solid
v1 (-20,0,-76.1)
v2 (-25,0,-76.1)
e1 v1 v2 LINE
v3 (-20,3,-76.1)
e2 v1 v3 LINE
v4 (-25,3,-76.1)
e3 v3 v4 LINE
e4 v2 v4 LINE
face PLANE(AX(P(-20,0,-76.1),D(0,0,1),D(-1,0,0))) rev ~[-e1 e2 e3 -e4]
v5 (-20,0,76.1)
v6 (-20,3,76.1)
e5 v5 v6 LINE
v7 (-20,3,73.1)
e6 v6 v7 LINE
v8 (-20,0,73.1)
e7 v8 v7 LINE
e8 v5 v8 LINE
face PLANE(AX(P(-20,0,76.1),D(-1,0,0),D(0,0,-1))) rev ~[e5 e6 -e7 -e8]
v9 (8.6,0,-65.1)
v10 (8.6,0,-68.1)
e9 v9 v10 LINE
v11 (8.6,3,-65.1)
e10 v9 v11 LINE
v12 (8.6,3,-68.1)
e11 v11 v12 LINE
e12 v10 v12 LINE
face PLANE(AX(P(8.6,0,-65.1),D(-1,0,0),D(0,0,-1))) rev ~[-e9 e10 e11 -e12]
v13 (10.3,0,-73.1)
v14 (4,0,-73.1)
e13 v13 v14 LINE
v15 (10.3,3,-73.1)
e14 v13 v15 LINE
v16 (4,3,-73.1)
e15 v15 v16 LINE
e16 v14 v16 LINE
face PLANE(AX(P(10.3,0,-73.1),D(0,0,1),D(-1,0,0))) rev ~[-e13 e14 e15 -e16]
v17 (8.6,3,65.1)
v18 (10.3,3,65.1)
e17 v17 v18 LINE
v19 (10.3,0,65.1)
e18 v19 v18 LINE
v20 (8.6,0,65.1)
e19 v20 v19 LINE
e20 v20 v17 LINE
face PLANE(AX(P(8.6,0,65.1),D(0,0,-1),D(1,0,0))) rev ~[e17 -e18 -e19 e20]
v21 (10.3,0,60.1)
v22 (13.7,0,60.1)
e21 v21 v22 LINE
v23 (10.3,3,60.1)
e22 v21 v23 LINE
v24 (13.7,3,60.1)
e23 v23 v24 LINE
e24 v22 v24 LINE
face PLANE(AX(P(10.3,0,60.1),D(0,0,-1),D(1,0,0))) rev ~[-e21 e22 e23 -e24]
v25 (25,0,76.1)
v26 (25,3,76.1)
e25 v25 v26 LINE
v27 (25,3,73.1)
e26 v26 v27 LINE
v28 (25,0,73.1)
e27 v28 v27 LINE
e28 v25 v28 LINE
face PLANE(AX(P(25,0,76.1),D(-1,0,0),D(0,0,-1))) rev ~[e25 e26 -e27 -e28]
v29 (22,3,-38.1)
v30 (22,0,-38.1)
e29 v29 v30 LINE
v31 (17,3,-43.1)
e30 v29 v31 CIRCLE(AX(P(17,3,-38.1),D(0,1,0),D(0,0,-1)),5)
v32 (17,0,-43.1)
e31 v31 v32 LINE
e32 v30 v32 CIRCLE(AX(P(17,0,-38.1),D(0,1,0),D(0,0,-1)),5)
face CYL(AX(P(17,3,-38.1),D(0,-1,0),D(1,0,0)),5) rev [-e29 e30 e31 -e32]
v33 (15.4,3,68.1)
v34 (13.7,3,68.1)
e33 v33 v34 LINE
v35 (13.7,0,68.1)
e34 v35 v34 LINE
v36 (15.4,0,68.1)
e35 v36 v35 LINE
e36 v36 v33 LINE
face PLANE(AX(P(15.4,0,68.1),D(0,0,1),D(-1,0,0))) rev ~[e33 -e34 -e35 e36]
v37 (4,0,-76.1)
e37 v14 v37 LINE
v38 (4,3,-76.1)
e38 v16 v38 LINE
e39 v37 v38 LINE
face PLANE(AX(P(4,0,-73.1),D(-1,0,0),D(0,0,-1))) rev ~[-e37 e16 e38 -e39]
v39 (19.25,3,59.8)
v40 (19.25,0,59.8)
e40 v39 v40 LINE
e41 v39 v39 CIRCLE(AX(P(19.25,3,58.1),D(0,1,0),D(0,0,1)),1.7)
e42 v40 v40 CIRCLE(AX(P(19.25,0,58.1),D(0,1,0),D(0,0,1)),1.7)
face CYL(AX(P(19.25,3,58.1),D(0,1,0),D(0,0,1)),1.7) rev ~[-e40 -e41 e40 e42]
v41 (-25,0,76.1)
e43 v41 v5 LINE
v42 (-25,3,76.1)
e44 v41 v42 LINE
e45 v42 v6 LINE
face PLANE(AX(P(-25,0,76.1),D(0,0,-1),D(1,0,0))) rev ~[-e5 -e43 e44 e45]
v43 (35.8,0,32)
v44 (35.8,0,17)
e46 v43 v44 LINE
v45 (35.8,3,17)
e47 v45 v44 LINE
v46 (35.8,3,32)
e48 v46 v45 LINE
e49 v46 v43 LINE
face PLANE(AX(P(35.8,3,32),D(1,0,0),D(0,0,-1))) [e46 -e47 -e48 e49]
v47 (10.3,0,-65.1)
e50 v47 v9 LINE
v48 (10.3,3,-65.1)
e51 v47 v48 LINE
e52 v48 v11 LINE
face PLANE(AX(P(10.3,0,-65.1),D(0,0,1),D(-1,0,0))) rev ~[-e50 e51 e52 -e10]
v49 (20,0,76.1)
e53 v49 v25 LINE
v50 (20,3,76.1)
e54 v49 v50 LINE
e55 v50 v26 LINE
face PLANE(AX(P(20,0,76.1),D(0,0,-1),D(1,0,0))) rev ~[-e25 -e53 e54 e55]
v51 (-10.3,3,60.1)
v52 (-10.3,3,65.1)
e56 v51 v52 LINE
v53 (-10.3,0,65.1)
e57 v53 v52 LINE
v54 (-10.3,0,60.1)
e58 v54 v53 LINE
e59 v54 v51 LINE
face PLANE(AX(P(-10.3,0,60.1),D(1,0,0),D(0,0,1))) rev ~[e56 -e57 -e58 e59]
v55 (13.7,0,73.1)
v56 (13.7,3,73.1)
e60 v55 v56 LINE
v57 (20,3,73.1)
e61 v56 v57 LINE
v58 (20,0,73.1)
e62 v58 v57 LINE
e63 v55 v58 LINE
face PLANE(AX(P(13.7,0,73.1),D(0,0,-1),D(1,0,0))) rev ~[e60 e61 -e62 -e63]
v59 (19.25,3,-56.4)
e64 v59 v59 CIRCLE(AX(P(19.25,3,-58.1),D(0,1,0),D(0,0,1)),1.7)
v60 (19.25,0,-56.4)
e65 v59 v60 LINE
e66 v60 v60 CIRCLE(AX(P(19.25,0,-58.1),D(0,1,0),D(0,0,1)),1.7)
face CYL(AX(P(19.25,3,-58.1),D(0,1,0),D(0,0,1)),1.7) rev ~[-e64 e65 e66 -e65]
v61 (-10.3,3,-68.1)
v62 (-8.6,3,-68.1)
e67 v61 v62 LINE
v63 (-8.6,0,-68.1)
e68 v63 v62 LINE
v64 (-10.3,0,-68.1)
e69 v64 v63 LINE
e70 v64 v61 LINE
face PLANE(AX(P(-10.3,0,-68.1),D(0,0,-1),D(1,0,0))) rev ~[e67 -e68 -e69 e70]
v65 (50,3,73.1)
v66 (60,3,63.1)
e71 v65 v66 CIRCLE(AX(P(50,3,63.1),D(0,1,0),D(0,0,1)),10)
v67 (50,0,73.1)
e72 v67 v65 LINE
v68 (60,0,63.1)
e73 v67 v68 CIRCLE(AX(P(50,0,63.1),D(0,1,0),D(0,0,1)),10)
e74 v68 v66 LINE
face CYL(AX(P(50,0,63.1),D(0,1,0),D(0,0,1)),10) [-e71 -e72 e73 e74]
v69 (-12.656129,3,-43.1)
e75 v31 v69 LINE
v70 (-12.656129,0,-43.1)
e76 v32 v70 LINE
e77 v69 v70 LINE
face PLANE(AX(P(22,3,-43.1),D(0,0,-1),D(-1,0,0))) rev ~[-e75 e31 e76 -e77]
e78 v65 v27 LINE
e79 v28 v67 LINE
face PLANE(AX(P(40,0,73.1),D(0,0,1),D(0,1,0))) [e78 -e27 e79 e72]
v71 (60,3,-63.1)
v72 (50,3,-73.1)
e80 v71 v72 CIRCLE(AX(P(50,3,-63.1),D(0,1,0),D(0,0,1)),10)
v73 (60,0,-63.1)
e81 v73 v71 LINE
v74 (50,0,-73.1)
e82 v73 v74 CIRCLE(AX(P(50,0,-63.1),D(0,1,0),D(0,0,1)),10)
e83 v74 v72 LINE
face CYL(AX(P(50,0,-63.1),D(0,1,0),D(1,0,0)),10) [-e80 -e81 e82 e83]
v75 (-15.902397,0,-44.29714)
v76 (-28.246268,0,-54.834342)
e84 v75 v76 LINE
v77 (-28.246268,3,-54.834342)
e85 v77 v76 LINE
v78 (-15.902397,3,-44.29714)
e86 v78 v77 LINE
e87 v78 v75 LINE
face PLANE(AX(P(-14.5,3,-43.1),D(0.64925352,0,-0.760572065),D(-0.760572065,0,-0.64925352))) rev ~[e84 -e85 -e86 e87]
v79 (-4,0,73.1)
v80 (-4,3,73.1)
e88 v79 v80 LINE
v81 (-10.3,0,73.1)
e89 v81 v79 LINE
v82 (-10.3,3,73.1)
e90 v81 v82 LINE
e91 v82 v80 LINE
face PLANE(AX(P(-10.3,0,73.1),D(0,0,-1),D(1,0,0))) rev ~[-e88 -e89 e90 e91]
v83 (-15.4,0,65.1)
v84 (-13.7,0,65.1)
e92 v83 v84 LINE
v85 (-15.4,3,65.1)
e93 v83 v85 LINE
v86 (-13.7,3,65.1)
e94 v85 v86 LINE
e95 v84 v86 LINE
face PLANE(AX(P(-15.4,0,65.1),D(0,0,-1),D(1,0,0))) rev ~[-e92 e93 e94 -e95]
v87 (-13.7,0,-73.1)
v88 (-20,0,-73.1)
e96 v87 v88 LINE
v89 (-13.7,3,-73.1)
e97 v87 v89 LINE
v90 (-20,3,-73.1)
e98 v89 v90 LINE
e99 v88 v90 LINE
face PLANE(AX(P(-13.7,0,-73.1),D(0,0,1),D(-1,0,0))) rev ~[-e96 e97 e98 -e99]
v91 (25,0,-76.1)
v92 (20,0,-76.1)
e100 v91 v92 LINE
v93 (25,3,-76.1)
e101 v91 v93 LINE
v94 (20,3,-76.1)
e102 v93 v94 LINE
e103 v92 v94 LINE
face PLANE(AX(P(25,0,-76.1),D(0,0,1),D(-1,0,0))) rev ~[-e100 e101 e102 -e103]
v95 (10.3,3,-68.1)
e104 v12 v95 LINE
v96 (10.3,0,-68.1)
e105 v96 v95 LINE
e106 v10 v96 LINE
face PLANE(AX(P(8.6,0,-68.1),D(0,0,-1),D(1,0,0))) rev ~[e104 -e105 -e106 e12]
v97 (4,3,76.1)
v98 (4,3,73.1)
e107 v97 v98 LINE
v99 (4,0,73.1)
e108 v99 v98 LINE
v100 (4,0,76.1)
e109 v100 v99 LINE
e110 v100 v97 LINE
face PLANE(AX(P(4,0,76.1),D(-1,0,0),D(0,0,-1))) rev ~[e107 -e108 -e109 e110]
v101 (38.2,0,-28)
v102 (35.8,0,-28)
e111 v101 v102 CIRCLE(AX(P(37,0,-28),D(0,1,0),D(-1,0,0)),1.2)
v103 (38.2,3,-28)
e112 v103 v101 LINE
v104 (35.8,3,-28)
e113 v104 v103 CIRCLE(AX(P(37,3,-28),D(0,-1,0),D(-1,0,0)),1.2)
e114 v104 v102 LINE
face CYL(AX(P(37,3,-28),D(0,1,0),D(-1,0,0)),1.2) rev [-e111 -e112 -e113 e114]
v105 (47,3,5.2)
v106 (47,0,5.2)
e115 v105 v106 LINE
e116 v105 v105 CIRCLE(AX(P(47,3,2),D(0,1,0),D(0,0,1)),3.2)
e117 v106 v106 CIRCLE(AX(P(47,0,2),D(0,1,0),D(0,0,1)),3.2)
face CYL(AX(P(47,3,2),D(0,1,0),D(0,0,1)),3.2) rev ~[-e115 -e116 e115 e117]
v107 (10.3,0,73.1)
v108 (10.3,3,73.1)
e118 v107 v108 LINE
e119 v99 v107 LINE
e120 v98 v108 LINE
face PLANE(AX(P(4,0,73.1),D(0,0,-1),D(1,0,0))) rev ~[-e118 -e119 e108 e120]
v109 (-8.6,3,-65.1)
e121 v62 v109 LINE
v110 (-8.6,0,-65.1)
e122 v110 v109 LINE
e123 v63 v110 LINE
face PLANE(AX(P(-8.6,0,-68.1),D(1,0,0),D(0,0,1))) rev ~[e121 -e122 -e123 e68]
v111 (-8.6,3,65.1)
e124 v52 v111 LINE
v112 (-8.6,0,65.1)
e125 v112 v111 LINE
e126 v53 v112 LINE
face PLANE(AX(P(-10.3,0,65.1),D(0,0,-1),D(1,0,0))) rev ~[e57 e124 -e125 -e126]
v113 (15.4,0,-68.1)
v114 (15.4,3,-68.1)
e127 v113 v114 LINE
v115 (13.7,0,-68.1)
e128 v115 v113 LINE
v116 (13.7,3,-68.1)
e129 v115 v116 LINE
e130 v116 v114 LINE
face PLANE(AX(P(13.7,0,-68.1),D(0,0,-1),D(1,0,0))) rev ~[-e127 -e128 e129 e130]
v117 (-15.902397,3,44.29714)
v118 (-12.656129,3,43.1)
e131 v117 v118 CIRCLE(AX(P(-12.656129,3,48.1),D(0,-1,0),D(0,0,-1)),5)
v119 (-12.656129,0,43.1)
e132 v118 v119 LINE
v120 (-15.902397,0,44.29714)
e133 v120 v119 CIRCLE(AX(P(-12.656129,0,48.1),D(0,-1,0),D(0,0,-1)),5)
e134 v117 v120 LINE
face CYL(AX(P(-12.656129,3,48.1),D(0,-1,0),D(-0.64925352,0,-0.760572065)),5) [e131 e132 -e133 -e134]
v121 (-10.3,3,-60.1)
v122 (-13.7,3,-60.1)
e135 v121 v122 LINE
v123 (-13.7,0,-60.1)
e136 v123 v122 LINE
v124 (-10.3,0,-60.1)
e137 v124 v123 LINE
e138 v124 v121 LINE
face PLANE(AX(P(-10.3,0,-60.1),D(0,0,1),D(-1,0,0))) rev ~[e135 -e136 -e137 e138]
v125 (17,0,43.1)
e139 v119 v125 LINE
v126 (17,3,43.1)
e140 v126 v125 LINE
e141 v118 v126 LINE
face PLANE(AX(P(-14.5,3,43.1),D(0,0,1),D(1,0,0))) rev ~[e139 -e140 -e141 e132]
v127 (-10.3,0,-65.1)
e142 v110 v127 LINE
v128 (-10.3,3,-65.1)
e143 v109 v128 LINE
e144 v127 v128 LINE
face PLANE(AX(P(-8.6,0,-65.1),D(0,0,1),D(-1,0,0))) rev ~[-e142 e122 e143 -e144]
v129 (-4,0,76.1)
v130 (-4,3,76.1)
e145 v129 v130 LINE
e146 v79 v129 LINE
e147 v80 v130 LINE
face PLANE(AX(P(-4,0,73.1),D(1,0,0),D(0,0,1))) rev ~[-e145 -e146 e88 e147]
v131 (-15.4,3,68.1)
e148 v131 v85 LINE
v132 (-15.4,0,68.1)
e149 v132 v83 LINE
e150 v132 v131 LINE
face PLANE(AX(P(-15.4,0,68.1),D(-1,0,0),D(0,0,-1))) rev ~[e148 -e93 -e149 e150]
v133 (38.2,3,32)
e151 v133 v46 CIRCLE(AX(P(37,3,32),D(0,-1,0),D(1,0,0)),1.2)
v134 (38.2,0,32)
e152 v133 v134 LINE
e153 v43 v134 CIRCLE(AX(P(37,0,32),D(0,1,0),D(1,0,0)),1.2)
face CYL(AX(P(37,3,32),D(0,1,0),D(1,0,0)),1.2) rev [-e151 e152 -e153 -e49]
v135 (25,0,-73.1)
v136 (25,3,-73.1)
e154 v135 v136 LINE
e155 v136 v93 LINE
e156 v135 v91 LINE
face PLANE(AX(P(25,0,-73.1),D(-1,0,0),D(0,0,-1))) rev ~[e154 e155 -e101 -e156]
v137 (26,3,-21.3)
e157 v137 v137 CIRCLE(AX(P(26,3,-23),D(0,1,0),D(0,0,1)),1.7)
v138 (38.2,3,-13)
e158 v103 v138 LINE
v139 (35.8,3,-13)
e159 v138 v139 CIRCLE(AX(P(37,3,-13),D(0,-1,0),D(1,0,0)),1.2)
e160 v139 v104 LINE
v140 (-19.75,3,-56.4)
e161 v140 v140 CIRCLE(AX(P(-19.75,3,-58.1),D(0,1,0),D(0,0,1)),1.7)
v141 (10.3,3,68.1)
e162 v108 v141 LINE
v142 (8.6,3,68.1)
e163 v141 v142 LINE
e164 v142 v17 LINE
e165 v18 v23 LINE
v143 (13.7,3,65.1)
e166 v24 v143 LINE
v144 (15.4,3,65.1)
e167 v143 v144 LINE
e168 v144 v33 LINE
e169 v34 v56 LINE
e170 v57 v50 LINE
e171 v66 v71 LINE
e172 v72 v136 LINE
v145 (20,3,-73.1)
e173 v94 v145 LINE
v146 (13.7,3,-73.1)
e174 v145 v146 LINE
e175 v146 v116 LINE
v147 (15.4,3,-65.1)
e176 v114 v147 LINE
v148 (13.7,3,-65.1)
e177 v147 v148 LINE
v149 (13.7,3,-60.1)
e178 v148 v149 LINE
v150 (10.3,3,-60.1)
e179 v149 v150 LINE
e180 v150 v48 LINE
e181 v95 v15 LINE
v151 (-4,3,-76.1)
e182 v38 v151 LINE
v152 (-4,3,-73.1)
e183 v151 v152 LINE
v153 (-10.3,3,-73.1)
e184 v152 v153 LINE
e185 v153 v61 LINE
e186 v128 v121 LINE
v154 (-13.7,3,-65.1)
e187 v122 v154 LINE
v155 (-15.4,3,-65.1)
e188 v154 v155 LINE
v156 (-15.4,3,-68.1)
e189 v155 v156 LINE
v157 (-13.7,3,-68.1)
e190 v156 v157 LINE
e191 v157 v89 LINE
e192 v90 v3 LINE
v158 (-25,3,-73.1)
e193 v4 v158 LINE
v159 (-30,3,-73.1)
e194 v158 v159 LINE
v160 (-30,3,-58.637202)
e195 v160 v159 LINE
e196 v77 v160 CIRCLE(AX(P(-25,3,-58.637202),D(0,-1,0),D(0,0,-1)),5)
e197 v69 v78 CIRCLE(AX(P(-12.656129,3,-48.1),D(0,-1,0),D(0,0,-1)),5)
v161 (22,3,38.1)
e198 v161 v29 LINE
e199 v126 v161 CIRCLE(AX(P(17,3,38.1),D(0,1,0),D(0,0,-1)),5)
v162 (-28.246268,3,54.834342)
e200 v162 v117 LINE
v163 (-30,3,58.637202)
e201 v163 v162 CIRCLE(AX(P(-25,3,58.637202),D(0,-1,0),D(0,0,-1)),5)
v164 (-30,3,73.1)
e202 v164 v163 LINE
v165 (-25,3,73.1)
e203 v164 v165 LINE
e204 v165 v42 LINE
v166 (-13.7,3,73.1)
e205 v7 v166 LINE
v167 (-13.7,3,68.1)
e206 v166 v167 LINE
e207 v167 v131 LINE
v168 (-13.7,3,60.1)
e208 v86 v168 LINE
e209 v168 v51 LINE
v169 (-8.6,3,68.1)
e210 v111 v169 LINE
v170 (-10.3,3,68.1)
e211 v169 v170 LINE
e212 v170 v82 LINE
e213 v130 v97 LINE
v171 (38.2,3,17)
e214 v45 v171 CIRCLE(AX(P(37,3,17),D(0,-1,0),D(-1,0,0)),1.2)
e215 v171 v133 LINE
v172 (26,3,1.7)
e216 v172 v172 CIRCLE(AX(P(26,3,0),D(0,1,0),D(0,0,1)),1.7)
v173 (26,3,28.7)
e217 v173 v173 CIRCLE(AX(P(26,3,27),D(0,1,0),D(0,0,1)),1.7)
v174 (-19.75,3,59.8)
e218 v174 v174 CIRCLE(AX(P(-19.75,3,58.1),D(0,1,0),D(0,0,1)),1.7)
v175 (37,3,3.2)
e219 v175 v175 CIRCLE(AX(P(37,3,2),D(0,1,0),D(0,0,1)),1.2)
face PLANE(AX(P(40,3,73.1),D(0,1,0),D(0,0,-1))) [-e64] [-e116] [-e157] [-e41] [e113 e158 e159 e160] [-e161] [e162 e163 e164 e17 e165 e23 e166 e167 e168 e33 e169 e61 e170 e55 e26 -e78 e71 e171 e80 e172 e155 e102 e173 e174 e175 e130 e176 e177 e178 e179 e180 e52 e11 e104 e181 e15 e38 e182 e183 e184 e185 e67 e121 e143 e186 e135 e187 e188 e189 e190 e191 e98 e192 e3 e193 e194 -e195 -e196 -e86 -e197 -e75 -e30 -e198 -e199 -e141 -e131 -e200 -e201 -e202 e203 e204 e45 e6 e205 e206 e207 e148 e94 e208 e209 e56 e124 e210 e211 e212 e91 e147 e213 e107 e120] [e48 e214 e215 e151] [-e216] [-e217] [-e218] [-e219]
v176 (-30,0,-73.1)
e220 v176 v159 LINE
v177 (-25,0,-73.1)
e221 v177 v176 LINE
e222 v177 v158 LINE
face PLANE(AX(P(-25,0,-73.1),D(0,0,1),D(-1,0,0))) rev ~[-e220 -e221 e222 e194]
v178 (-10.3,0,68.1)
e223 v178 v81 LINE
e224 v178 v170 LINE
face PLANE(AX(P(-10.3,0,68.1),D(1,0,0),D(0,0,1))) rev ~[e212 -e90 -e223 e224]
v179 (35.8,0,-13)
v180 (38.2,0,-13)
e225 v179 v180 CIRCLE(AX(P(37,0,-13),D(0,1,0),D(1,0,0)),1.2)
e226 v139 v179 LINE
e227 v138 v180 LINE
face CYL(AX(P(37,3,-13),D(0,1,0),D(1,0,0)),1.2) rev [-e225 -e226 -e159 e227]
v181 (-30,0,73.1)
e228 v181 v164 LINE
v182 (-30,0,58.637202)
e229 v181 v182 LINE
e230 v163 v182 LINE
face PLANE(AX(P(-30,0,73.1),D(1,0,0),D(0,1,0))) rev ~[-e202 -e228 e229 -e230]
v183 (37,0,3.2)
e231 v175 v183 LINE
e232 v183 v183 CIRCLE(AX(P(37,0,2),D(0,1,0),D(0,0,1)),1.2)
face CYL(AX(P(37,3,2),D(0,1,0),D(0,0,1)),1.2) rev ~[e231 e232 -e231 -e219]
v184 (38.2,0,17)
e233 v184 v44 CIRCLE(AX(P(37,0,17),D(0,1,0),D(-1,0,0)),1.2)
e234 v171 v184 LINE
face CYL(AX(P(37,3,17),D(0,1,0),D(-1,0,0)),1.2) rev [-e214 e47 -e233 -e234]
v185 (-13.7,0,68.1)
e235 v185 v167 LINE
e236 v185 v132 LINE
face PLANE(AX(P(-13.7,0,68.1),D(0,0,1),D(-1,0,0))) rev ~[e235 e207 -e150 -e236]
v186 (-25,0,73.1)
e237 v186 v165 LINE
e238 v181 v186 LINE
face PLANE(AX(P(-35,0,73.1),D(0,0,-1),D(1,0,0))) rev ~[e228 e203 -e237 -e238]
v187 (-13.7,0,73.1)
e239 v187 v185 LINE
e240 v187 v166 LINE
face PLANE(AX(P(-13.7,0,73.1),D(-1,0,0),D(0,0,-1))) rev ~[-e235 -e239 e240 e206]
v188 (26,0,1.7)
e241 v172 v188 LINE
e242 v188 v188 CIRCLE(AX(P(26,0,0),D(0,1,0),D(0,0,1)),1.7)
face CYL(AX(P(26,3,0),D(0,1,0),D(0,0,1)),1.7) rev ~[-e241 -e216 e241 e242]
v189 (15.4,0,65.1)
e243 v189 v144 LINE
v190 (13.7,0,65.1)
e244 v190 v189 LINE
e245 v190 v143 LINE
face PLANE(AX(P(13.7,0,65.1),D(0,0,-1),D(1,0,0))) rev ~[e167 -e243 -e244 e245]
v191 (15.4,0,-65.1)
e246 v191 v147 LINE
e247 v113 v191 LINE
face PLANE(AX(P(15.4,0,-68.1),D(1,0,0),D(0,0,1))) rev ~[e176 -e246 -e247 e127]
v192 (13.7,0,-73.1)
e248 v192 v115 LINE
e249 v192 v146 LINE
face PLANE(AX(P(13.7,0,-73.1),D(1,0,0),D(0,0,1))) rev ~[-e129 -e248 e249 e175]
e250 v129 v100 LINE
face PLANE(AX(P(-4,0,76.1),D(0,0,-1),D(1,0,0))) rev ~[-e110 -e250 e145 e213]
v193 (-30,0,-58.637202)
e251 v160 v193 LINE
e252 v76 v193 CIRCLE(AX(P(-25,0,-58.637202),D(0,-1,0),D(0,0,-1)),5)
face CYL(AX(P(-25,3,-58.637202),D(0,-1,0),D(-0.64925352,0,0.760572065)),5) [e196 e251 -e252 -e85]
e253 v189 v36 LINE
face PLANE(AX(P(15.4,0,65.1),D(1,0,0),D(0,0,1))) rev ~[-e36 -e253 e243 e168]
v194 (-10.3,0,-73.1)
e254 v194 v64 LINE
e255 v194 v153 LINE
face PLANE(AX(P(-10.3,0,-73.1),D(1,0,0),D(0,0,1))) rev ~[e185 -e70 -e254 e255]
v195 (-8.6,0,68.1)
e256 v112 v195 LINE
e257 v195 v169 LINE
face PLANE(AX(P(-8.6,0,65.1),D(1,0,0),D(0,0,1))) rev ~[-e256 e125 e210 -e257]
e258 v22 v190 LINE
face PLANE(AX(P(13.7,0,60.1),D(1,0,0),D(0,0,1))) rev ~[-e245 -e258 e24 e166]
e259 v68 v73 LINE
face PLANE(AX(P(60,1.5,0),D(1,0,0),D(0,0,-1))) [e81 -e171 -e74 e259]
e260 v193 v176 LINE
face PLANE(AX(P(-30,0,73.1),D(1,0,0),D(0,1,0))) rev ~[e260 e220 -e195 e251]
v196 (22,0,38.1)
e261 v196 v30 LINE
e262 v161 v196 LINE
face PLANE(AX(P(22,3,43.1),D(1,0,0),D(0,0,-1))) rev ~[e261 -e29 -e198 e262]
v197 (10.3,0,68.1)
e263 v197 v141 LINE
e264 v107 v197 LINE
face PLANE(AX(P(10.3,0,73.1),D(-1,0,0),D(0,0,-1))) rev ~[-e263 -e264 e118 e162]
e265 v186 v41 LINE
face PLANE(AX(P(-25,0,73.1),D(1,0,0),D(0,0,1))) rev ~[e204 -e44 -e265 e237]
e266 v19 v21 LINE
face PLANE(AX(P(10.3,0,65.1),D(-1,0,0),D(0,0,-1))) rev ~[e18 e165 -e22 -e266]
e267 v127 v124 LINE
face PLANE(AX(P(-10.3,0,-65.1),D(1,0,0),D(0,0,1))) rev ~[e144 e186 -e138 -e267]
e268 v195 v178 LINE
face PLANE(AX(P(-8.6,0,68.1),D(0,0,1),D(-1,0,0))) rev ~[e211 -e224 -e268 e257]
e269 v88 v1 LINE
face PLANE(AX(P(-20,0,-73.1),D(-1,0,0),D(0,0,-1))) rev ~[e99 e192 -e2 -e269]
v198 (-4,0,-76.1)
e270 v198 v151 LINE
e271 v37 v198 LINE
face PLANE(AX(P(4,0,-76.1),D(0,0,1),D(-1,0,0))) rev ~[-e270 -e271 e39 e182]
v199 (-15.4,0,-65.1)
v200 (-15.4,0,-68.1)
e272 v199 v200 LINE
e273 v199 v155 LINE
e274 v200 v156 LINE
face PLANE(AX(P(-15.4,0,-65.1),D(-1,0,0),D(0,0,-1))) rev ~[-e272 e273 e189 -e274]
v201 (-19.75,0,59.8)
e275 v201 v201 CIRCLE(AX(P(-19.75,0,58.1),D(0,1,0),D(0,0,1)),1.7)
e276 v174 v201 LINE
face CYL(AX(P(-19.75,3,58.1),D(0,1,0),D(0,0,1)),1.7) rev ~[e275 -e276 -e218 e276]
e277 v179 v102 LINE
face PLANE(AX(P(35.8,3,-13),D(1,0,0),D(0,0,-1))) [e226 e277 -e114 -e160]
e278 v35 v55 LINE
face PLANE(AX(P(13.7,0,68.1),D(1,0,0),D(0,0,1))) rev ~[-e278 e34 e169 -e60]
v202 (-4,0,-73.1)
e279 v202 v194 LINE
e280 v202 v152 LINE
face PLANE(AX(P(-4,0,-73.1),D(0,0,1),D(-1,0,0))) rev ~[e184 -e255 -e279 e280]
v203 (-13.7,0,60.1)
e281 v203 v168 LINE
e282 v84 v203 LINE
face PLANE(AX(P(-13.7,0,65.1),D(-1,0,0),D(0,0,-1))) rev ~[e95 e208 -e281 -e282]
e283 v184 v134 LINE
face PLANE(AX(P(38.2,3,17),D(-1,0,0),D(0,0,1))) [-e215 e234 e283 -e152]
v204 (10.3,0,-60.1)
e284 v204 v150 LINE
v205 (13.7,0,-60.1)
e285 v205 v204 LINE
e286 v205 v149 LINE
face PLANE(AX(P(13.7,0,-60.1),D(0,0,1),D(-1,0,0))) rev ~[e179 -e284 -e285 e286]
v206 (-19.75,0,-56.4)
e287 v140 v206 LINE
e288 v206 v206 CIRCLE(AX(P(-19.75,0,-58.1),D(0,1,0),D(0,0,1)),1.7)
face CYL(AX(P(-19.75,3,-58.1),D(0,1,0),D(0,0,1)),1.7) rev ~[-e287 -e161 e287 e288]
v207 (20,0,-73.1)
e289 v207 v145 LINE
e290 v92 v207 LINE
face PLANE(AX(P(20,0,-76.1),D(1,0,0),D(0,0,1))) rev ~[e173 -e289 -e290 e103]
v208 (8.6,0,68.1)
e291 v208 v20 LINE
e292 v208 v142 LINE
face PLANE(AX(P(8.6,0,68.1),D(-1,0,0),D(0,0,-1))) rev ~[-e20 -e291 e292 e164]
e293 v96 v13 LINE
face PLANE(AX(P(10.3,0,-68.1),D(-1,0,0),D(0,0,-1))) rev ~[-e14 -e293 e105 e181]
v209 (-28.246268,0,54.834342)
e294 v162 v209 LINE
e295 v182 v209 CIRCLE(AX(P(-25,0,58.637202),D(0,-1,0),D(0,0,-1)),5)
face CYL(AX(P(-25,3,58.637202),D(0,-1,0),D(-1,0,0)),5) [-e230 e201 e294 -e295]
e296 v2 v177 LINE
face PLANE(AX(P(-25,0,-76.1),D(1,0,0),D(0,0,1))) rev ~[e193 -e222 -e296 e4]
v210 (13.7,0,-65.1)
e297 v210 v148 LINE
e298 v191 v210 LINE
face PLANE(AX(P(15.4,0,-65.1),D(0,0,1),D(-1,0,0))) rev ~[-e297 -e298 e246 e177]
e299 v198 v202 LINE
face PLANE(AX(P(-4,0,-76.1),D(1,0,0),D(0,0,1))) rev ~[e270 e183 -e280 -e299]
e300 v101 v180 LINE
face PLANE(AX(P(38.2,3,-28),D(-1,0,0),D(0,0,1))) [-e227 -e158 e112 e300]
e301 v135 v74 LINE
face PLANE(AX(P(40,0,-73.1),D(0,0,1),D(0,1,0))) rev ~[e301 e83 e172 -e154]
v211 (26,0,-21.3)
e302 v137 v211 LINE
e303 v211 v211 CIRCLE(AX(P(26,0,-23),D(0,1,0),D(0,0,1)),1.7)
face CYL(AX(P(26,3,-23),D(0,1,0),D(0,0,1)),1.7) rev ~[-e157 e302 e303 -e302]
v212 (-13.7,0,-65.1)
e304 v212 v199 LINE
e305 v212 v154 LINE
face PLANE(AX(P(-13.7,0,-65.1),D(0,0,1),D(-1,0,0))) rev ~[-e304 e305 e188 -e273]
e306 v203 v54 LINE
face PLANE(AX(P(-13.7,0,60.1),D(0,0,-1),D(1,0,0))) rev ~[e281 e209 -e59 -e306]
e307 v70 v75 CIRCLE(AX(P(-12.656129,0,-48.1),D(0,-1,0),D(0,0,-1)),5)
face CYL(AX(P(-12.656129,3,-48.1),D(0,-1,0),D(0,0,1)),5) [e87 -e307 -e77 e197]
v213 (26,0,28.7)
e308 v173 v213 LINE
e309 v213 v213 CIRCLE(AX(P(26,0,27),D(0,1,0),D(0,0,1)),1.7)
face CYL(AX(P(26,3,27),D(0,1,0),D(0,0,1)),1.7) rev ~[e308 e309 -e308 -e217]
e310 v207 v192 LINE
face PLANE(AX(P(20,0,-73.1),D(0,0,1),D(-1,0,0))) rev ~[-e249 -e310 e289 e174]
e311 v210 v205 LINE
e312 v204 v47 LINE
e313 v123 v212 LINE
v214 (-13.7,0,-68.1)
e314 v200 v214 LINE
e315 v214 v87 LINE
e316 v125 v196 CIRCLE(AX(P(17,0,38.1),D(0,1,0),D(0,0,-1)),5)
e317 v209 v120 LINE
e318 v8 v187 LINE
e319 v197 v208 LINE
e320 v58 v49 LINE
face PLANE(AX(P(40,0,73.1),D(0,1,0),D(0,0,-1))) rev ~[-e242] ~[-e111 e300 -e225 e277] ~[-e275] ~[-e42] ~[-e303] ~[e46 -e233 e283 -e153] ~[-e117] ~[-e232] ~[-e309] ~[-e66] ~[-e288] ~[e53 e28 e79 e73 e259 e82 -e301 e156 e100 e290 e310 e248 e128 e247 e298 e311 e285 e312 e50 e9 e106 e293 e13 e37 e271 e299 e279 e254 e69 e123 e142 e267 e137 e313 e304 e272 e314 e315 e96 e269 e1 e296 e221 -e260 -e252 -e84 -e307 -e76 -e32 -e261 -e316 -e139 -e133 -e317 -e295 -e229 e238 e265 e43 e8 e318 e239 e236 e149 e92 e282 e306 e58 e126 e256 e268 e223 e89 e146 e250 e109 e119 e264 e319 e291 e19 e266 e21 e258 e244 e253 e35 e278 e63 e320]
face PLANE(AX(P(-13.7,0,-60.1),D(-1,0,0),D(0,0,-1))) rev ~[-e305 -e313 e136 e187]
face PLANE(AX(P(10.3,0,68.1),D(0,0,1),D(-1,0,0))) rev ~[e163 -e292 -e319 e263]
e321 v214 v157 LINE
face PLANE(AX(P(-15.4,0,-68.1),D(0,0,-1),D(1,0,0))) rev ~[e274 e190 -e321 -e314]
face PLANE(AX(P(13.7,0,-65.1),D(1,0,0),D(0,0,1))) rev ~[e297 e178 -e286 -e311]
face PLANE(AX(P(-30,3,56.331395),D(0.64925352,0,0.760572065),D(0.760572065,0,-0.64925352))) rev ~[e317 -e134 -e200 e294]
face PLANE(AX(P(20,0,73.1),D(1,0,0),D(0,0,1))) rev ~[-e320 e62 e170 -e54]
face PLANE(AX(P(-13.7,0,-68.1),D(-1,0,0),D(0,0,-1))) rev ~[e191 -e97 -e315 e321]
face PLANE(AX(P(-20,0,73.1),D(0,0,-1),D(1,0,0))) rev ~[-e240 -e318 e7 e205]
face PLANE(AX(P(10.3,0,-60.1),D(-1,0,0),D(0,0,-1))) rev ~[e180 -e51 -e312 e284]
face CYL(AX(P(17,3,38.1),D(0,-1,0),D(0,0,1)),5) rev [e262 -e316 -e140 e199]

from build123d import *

# Parameters (mm, degrees)
EXTRUDE_1_DEPTH     = 3
SKETCH_2_W          = 5
SKETCH_2_H          = 3
CUT_EXTRUDE_1_DEPTH = 176
SKETCH_3_W          = 146.2
SKETCH_3_H          = 3
EXTRUDE_2_DEPTH     = 5
SKETCH_4_R          = 1.7
CUT_EXTRUDE_2_DEPTH = 5
CUT_EXTRUDE_3_DEPTH = 10
FILLET_1_R          = 5
SKETCH_7_W          = 146.2
SKETCH_7_H          = 3
EXTRUDE_3_DEPTH     = 20
SKETCH_8_R          = 3.2
CUT_EXTRUDE_4_DEPTH = 20
SKETCH_9_R          = 1.2
CUT_EXTRUDE_5_DEPTH = 20
FILLET_2_R          = 10
SKETCH_10_R         = 1.7
CUT_EXTRUDE_6_DEPTH = 3


with BuildPart() as part:
    # 草图1 → 凸台-拉伸1 (new body)
    with BuildSketch(Plane(origin=(0, 0, 0), x_dir=(1, 0, 0), z_dir=(0, 1, 0))):
        Polygon((-25, -73.1), (-25, -76.1), (-20, -76.1), (-20, -73.1), (-13.7, -73.1), (-13.7, -68.1), (-15.4, -68.1), (-15.4, -65.1), (-13.7, -65.1), (-13.7, -60.1), (-10.3, -60.1), (-10.3, -65.1), (-8.6, -65.1), (-8.6, -68.1), (-10.3, -68.1), (-10.3, -73.1), (-4, -73.1), (-4, -76.1), (4, -76.1), (4, -73.1), (10.3, -73.1), (10.3, -68.1), (8.6, -68.1), (8.6, -65.1), (10.3, -65.1), (10.3, -60.1), (13.7, -60.1), (13.7, -65.1), (15.4, -65.1), (15.4, -68.1), (13.7, -68.1), (13.7, -73.1), (20, -73.1), (20, -76.1), (25, -76.1), (25, -73.1), (35, -73.1), (35, 73.1), (25, 73.1), (25, 76.1), (20, 76.1), (20, 73.1), (13.7, 73.1), (13.7, 68.1), (15.4, 68.1), (15.4, 65.1), (13.7, 65.1), (13.7, 60.1), (10.3, 60.1), (10.3, 65.1), (8.6, 65.1), (8.6, 68.1), (10.3, 68.1), (10.3, 73.1), (4, 73.1), (4, 76.1), (-4, 76.1), (-4, 73.1), (-10.3, 73.1), (-10.3, 68.1), (-8.6, 68.1), (-8.6, 65.1), (-10.3, 65.1), (-10.3, 60.1), (-13.7, 60.1), (-13.7, 65.1), (-15.4, 65.1), (-15.4, 68.1), (-13.7, 68.1), (-13.7, 73.1), (-20, 73.1), (-20, 76.1), (-25, 76.1), (-25, 73.1), (-35, 73.1), (-35, -73.1), align=None)
    extrude(amount=EXTRUDE_1_DEPTH)

    # 草图2 → 切除-拉伸1 (cut)
    with BuildSketch(Plane.XY.offset(73.1)):
        with Locations((-32.5, 1.5)):
            Rectangle(SKETCH_2_W, SKETCH_2_H)
    extrude(amount=-CUT_EXTRUDE_1_DEPTH, mode=Mode.SUBTRACT)

    # 草图3 → 凸台-拉伸2 (add)
    with BuildSketch(Plane(origin=(35, 0, 0), x_dir=(0, 0, -1), z_dir=(1, 0, 0))):
        with Locations((0, 1.5)):
            Rectangle(SKETCH_3_W, SKETCH_3_H)
    extrude(amount=EXTRUDE_2_DEPTH)

    # 草图4 → 切除-拉伸2 (cut)
    with BuildSketch(Plane(origin=(0, 3, 0), x_dir=(1, 0, 0), z_dir=(0, 1, 0))):
        with Locations(Location((-19.75, -58.1, 0), (0, 0, 270))):
            Circle(SKETCH_4_R)
        with Locations(Location((19.25, -58.1, 0), (0, 0, 270))):
            Circle(SKETCH_4_R)
        with Locations(Location((19.25, 58.1, 0), (0, 0, 270))):
            Circle(SKETCH_4_R)
        with Locations(Location((-19.75, 58.1, 0), (0, 0, 270))):
            Circle(SKETCH_4_R)
    extrude(amount=-CUT_EXTRUDE_2_DEPTH, mode=Mode.SUBTRACT)

    # 草图5 → 切除-拉伸3 (cut)
    with BuildSketch(Plane(origin=(0, 3, 0), x_dir=(1, 0, 0), z_dir=(0, 1, 0))):
        Polygon((-30, -56.331395183), (-14.5, -43.1), (0, -43.1), (22, -43.1), (22, 43.1), (-14.5, 43.1), (-30, 56.331395183), align=None)
    extrude(amount=-CUT_EXTRUDE_3_DEPTH, mode=Mode.SUBTRACT)

    # 圆角1
    fillet_1_edges = [part.edges().sort_by_distance(p)[0] for p in [
        (-30, 1.5, 56.331395183),
        (-30, 1.5, -56.331395183),
        (-14.5, 1.5, -43.1),
        (22, 1.5, -43.1),
        (22, 1.5, 43.1),
        (-14.5, 1.5, 43.1),
    ]]
    fillet(fillet_1_edges, radius=FILLET_1_R)

    # 草图7 → 凸台-拉伸3 (add)
    with BuildSketch(Plane(origin=(40, 0, 0), x_dir=(0, 0, -1), z_dir=(1, 0, 0))):
        with Locations((0, 1.5)):
            Rectangle(SKETCH_7_W, SKETCH_7_H)
    extrude(amount=EXTRUDE_3_DEPTH)

    # 草图8 → 切除-拉伸4 (cut)
    with BuildSketch(Plane(origin=(0, 3, 0), x_dir=(1, 0, 0), z_dir=(0, 1, 0))):
        with Locations(Location((47, -2, 0), (0, 0, 270))):
            Circle(SKETCH_8_R)
    extrude(amount=-CUT_EXTRUDE_4_DEPTH, mode=Mode.SUBTRACT)

    # 草图9 → 切除-拉伸5 (cut)
    with BuildSketch(Plane(origin=(0, 3, 0), x_dir=(1, 0, 0), z_dir=(0, 1, 0))):
        with Locations(Location((37, -2, 0), (0, 0, 270))):
            Circle(SKETCH_9_R)
        with BuildLine():
            Line((35.8, 13), (35.8, 28))
            ThreePointArc((35.8, 28), (37, 29.2), (38.2, 28))
            Line((38.2, 28), (38.2, 13))
            ThreePointArc((38.2, 13), (37, 11.8), (35.8, 13))
        make_face()
        with BuildLine():
            Line((38.2, -17), (38.2, -32))
            ThreePointArc((38.2, -32), (37, -33.2), (35.8, -32))
            Line((35.8, -32), (35.8, -17))
            ThreePointArc((35.8, -17), (37, -15.8), (38.2, -17))
        make_face()
    extrude(amount=-CUT_EXTRUDE_5_DEPTH, mode=Mode.SUBTRACT)

    # 圆角2
    fillet_2_edges = [part.edges().sort_by_distance(p)[0] for p in [
        (60, 1.5, 73.1),
        (60, 1.5, -73.1),
    ]]
    fillet(fillet_2_edges, radius=FILLET_2_R)

    # 草图10 → 切除-拉伸6 (cut)
    with BuildSketch(Plane(origin=(0, 3, 0), x_dir=(1, 0, 0), z_dir=(0, 1, 0))):
        with Locations(Location((26, -27, 0), (0, 0, 270))):
            Circle(SKETCH_10_R)
        with Locations(Location((26, 23, 0), (0, 0, 270))):
            Circle(SKETCH_10_R)
        with Locations(Location((26, 0, 0), (0, 0, 270))):
            Circle(SKETCH_10_R)
    extrude(amount=-CUT_EXTRUDE_6_DEPTH, mode=Mode.SUBTRACT)


solid = part.part
